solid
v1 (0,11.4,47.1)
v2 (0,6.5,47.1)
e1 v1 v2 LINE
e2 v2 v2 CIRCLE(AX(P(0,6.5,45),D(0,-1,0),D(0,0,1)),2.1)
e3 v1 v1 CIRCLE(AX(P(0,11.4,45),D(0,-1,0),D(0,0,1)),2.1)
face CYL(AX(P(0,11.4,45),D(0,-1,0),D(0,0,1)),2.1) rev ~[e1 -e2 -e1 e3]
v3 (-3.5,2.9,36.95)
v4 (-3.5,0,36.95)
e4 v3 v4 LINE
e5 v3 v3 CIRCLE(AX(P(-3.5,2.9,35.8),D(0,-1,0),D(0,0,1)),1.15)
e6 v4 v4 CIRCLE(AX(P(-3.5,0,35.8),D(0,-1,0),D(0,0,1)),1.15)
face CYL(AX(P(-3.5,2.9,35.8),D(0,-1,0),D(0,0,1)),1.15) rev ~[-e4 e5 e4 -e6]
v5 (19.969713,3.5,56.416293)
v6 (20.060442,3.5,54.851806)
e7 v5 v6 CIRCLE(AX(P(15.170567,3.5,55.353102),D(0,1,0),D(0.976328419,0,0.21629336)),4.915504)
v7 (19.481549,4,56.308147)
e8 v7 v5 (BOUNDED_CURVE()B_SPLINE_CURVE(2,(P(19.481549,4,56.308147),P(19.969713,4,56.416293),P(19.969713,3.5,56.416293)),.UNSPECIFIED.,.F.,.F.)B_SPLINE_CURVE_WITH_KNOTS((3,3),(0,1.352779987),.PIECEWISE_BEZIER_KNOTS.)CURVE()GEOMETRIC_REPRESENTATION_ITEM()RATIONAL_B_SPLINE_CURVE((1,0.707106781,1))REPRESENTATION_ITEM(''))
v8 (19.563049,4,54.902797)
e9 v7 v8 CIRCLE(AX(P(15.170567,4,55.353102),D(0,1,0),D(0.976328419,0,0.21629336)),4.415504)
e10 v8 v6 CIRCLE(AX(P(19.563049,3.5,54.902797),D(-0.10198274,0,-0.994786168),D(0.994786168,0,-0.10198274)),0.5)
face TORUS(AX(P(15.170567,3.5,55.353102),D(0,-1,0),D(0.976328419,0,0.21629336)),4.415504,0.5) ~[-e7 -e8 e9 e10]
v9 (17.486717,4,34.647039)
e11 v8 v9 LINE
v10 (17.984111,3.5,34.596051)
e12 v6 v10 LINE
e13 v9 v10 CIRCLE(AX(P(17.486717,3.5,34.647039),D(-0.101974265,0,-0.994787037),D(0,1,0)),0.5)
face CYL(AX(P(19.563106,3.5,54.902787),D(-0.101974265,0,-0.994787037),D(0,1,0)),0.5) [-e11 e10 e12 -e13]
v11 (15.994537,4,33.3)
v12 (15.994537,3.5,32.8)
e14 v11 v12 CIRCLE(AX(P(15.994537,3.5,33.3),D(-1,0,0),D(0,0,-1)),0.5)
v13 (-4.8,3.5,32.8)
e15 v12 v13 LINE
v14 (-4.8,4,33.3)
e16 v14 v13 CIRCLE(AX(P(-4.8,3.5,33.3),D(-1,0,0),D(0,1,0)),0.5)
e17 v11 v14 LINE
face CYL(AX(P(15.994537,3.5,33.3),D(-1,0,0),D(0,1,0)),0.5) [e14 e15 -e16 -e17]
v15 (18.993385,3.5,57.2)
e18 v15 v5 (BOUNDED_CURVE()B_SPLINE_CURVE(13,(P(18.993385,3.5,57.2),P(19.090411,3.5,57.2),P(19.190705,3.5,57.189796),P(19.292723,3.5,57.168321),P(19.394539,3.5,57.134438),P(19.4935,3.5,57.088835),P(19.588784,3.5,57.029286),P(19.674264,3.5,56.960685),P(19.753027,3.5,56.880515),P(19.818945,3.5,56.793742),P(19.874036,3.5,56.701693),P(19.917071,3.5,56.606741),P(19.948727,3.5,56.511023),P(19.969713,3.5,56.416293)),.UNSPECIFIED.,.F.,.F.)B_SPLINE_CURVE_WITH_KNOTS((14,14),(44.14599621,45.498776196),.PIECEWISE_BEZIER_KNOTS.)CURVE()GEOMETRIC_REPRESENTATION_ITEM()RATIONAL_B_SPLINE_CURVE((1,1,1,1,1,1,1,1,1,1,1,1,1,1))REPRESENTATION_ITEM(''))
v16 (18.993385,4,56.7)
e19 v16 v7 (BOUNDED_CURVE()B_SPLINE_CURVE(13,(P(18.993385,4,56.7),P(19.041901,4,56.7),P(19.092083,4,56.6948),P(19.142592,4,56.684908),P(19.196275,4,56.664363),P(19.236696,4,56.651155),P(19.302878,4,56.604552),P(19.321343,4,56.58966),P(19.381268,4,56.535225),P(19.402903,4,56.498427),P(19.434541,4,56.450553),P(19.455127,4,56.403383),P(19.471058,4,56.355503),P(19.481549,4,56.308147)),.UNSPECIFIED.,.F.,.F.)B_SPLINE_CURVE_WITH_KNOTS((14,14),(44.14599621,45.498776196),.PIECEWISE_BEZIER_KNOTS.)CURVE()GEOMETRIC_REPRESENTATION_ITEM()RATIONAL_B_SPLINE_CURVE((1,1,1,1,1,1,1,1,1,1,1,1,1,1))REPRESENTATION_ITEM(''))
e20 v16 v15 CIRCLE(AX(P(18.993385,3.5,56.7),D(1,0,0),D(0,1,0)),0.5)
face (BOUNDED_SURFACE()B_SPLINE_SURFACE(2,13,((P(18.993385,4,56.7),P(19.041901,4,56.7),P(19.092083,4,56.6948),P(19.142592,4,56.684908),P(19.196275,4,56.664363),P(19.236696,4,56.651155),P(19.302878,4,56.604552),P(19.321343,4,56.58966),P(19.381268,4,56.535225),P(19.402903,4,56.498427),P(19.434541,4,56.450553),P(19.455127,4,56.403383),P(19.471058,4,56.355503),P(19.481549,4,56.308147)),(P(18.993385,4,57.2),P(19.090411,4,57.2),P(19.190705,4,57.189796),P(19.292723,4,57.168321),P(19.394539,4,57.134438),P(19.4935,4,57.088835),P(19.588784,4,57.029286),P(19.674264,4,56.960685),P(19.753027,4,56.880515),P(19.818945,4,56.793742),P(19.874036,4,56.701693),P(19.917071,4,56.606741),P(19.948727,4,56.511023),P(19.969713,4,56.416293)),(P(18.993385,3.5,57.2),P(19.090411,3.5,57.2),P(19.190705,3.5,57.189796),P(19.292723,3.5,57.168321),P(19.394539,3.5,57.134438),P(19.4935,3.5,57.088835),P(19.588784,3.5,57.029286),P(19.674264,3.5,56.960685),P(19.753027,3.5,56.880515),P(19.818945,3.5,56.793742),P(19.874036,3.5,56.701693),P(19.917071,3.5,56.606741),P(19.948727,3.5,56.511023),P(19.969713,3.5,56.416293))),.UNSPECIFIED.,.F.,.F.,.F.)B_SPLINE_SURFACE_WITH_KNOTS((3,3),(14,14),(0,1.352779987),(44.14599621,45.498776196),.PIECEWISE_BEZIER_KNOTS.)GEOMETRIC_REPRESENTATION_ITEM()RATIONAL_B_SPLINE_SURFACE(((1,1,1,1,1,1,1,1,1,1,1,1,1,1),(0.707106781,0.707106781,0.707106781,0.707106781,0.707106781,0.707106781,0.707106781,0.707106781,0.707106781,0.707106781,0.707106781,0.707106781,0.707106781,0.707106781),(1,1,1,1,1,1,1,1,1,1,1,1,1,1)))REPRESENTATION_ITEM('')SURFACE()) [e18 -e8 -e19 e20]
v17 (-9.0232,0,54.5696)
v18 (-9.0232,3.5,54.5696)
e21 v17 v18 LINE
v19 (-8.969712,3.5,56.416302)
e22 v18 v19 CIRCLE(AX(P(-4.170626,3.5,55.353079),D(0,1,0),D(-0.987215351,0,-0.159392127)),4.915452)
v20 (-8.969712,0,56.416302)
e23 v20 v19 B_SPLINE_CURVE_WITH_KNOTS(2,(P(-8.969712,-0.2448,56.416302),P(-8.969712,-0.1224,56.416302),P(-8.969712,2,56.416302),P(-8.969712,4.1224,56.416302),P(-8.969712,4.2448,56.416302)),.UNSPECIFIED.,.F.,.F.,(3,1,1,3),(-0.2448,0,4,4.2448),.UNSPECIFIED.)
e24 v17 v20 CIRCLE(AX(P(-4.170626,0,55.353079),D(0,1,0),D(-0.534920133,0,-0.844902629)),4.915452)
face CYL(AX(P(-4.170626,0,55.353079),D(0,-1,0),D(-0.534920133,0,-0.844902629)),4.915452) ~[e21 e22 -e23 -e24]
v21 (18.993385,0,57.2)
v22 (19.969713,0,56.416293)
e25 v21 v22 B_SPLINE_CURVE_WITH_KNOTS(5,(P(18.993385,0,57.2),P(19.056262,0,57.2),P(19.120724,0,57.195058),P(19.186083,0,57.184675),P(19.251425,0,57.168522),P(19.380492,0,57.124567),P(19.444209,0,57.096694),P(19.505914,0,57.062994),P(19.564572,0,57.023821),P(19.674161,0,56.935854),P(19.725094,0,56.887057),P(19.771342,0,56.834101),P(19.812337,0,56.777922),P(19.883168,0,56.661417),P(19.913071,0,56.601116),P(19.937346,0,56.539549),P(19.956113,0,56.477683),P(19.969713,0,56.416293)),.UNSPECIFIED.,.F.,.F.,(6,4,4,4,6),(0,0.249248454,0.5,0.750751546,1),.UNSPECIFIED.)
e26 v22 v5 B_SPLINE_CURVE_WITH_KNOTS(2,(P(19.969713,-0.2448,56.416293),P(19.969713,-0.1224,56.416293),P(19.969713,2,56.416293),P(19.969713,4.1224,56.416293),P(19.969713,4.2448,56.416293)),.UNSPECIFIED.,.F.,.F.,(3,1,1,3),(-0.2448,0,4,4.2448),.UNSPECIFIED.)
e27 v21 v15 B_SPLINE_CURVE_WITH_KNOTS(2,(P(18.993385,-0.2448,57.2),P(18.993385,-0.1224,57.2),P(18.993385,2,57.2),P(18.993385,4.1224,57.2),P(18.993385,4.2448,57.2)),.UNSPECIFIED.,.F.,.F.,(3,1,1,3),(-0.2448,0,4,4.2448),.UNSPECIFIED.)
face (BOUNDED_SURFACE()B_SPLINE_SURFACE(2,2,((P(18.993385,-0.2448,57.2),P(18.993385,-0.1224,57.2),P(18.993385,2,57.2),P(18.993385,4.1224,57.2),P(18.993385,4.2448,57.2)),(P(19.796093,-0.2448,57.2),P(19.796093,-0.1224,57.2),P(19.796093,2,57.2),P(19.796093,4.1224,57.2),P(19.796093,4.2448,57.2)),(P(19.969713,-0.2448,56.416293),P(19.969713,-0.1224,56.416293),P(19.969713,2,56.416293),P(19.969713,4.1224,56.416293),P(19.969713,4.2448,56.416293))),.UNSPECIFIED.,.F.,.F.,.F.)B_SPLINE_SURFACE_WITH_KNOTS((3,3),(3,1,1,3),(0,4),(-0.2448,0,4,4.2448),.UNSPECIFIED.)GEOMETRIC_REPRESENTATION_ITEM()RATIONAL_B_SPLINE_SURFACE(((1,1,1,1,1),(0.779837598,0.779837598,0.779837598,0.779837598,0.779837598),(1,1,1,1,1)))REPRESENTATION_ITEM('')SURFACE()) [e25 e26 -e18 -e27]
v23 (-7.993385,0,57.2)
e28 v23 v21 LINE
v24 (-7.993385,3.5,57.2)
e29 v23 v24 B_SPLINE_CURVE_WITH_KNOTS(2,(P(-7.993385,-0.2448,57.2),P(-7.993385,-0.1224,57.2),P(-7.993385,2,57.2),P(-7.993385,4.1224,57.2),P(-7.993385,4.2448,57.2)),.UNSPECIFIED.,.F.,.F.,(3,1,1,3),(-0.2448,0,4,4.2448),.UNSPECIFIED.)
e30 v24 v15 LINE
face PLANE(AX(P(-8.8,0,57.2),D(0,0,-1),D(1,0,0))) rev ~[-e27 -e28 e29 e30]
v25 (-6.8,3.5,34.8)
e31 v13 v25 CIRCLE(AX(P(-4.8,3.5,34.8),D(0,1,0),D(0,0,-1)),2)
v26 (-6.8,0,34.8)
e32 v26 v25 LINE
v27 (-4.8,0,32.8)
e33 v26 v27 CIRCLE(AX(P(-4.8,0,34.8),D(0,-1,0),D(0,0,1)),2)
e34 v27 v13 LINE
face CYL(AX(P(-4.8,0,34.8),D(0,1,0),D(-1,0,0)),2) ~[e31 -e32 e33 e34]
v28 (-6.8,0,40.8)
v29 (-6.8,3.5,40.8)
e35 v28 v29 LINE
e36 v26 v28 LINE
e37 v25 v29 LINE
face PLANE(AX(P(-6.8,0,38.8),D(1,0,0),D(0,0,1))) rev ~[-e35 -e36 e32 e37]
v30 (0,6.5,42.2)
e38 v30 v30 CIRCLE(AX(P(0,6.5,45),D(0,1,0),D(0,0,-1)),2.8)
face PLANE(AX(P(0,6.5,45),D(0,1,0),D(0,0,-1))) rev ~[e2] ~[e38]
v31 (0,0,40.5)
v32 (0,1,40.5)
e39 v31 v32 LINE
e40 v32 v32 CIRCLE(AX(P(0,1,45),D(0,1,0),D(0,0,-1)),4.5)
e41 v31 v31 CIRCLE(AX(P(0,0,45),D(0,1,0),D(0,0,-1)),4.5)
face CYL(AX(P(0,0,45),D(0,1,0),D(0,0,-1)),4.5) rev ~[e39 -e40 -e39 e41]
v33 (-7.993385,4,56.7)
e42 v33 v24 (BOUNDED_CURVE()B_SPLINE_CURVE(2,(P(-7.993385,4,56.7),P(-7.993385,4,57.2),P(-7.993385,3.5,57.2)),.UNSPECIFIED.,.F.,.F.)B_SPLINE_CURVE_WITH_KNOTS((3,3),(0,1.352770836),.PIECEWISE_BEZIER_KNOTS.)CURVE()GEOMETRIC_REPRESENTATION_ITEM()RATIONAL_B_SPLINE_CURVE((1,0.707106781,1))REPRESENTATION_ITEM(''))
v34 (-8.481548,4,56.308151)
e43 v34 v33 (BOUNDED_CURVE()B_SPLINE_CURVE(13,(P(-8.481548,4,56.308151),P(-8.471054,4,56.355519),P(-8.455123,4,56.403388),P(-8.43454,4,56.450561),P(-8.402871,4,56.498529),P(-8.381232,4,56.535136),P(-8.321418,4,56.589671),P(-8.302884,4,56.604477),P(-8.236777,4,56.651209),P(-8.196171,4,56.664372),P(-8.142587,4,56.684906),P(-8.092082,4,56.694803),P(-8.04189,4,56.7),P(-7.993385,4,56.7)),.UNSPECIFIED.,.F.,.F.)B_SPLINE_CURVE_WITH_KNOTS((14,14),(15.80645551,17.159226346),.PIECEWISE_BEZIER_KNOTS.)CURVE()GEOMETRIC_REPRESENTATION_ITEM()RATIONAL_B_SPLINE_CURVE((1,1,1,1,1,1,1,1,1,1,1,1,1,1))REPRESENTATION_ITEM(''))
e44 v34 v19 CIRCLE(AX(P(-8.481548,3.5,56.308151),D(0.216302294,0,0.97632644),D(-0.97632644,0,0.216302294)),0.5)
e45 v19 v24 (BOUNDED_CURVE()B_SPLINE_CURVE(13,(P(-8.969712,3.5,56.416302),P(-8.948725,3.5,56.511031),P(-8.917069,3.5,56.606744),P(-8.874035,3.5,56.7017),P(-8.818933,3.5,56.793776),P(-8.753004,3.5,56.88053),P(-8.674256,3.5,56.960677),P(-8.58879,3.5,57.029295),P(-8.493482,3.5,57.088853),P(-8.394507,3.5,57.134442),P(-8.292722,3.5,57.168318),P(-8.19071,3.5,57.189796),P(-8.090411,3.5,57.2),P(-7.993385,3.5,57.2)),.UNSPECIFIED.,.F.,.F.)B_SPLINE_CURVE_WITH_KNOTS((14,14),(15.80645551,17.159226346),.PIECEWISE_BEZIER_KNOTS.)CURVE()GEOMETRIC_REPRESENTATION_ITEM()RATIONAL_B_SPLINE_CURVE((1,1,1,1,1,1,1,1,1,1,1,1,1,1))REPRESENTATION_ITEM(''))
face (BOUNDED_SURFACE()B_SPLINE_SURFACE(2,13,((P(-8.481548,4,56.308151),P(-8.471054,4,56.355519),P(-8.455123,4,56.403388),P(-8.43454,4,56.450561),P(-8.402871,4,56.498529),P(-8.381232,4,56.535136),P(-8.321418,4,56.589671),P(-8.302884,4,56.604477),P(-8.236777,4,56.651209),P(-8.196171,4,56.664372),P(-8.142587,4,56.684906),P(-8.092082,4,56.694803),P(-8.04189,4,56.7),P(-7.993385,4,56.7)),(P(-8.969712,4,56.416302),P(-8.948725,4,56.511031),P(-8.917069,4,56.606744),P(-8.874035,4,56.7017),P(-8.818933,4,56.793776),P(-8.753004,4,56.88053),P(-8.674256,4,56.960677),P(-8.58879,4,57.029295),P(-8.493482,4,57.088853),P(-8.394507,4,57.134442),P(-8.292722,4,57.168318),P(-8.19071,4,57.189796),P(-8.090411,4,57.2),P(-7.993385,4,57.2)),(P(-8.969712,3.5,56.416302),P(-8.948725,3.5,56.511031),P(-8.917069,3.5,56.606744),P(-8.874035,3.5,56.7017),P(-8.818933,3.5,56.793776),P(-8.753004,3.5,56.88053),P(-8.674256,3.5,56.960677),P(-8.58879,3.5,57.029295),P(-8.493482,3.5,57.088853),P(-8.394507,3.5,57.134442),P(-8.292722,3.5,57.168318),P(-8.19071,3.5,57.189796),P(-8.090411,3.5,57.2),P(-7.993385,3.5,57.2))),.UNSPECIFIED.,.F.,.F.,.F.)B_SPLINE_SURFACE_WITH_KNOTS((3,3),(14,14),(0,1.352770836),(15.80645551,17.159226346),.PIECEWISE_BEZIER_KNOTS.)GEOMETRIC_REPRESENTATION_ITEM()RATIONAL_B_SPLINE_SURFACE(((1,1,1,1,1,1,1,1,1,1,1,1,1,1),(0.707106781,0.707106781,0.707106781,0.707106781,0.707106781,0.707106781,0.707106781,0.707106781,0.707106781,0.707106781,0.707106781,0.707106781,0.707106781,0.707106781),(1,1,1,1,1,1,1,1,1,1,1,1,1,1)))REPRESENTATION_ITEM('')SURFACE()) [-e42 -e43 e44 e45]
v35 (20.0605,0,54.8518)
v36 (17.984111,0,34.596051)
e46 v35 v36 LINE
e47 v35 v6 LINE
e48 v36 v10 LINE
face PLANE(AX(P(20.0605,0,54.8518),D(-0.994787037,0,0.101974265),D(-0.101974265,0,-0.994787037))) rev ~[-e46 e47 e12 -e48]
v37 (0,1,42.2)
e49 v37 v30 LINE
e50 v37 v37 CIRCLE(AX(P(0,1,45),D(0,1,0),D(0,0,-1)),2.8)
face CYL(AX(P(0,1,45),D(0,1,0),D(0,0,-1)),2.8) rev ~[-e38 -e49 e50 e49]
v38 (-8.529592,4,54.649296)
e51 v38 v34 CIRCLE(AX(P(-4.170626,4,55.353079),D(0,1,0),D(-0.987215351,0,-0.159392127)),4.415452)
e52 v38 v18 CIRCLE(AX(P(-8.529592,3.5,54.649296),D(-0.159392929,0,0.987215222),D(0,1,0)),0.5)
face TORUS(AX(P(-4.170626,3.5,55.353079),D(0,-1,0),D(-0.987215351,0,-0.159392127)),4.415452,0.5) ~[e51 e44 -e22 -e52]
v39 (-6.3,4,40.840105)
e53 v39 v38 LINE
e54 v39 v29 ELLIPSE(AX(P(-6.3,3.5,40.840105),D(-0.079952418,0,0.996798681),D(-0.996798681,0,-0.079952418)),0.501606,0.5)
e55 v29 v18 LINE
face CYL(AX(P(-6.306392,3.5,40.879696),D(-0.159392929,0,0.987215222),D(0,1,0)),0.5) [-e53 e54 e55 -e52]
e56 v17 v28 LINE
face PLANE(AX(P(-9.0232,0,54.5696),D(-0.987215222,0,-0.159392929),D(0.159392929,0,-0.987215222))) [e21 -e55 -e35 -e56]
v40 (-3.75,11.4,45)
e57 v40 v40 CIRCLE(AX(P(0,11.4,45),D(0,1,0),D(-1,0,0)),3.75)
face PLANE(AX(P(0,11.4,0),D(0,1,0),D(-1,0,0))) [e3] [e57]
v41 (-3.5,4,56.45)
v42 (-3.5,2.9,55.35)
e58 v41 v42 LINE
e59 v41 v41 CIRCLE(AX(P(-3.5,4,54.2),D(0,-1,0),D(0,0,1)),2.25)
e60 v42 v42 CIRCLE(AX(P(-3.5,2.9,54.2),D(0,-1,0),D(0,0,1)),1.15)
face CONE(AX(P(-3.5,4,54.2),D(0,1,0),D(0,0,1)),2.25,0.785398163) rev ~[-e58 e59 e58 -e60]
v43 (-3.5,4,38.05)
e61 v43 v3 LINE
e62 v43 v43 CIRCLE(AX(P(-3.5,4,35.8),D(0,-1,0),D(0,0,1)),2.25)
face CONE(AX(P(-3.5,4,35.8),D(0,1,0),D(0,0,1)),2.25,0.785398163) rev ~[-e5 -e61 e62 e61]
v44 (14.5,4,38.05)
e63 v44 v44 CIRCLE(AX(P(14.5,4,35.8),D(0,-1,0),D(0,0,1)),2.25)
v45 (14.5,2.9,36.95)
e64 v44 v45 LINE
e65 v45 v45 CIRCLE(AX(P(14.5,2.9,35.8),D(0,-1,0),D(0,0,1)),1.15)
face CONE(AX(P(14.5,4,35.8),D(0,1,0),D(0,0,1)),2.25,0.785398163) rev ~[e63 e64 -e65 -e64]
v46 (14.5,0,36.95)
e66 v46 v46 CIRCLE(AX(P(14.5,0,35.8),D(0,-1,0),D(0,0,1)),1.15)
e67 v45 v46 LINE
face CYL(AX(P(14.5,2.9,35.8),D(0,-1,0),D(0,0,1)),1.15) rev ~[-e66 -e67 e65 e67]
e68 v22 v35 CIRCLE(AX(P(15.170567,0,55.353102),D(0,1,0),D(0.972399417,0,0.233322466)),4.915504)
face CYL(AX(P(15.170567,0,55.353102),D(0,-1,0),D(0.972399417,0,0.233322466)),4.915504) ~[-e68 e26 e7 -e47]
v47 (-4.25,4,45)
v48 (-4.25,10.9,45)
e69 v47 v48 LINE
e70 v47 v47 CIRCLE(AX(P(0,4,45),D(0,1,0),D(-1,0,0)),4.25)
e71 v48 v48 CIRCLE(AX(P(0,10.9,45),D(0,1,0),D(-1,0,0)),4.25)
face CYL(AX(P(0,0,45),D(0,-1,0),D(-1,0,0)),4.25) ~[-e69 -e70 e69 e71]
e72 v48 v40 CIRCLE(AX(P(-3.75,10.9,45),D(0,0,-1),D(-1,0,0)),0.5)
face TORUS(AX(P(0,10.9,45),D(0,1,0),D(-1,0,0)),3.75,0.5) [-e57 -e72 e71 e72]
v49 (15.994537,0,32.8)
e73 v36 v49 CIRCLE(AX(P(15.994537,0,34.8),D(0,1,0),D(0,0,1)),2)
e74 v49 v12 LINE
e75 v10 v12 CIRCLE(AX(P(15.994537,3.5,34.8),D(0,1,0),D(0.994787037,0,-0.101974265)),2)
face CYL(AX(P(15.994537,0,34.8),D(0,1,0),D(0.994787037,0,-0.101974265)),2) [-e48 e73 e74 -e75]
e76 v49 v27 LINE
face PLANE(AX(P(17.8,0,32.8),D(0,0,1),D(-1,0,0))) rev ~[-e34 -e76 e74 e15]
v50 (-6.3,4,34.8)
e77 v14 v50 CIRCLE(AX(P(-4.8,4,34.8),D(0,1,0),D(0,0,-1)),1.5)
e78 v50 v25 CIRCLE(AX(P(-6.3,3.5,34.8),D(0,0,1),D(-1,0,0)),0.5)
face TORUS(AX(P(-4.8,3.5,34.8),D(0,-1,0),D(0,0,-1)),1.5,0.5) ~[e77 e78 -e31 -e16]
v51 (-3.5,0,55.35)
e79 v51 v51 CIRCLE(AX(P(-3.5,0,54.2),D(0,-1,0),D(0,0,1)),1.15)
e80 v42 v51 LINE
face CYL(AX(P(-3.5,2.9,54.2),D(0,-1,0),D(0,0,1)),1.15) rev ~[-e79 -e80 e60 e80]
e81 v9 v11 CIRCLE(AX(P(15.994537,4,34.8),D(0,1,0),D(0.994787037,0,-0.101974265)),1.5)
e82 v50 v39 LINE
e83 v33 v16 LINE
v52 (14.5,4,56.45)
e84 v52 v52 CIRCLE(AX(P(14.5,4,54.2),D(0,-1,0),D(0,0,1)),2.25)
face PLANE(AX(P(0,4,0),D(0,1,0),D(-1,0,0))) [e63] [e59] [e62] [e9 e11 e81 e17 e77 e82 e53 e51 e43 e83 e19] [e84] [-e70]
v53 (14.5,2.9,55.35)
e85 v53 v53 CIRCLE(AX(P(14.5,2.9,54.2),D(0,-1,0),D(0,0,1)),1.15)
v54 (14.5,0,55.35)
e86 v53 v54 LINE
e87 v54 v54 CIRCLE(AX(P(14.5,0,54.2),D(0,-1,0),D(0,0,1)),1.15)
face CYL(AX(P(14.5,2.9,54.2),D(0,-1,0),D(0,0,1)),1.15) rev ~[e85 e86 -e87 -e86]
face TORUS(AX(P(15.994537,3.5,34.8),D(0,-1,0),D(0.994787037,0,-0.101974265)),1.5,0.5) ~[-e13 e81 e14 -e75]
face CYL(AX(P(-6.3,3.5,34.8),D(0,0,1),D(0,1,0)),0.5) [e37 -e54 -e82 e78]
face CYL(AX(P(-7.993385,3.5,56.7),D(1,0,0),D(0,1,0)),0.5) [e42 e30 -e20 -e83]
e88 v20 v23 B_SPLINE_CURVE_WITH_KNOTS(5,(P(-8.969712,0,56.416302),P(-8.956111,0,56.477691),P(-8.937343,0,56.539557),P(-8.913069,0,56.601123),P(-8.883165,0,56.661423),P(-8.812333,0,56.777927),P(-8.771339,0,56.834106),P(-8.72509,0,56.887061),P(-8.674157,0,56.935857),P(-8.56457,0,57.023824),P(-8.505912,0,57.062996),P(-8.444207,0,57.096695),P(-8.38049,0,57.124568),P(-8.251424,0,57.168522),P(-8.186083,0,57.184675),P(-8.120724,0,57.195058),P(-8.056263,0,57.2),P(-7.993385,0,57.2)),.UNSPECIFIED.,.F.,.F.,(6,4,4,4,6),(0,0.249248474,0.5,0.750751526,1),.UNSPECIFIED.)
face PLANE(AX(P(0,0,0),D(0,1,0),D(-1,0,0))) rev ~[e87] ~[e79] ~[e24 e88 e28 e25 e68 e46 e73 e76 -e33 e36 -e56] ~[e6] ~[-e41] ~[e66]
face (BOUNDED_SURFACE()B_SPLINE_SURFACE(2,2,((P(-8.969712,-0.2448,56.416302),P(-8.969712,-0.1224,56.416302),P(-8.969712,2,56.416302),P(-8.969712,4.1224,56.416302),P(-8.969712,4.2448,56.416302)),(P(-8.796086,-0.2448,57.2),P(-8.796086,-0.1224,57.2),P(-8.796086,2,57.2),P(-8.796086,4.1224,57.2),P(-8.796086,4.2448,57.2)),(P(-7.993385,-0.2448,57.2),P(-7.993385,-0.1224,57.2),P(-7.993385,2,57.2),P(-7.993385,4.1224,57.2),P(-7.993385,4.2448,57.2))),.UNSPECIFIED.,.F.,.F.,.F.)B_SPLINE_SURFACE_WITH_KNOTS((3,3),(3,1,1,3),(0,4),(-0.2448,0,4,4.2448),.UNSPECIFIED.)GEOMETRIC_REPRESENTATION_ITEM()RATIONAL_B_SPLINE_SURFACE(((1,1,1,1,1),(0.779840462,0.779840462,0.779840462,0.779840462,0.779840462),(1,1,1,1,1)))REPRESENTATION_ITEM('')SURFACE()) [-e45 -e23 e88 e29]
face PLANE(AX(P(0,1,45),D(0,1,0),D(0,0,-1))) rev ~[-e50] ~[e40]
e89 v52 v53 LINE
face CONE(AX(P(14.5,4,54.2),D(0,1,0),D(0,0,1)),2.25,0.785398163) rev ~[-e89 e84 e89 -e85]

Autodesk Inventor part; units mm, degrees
ref_plane "YZ Plane" through (0, 0, 0) normal (1, 0, 0) x (0, 1, 0)
ref_plane "XZ Plane" through (0, 0, 0) normal (0, 1, 0) x (-1, 0, 0)
ref_plane "XY Plane" through (0, 0, 0) normal (0, 0, 1) x (1, 0, 0)
sketch "Sketch1" plane through (0, 0, 0) normal (0, 1, 0) x (-1, 0, 0)
  line L0 (0, 114.579) -> (0, -115.31) construction
  line L1 (119.896, 0) -> (-136.2997, 0) construction
  line L2 (65, 45) -> (31.9074, 45) construction
  line L3 (-65, 45) -> (-65, 11.9074) construction
  line L4 (-65, -45) -> (-19.7, -45) construction
  line L5 (65, -45) -> (65, -11.9074) construction
  line L6 (64.9671, -36.1989) -> (82.3619, -53.5938) construction
  line L7 (82.3619, -53.5938) -> (73.5938, -62.3619) construction
  line L8 (73.5938, -62.3619) -> (56.1989, -44.9671) construction
  line L9 (56.1989, -44.9671) -> (64.9671, -36.1989) construction
  line L10 (64.9671, 36.1989) -> (82.3619, 53.5938) construction
  line L11 (82.3619, 53.5938) -> (73.5938, 62.3619) construction
  line L12 (73.5938, 62.3619) -> (56.1989, 44.9671) construction
  line L13 (56.1989, 44.9671) -> (64.9671, 36.1989) construction
  line L14 (-56.1989, 44.9671) -> (-73.5938, 62.3619) construction
  line L15 (-73.5938, 62.3619) -> (-82.3619, 53.5938) construction
  line L16 (-82.3619, 53.5938) -> (-64.9671, 36.1989) construction
  line L17 (-64.9671, 36.1989) -> (-56.1989, 44.9671) construction
  line L18 (-56.1989, -44.9671) -> (-73.5938, -62.3619) construction
  line L19 (-73.5938, -62.3619) -> (-82.3619, -53.5938) construction
  line L20 (-82.3619, -53.5938) -> (-64.9671, -36.1989) construction
  line L21 (-64.9671, -36.1989) -> (-56.1989, -44.9671) construction
  line L22 (55, 30) -> (-15, 30) construction
  line L23 (-15, 30) -> (-15, -30) construction
  line L24 (-15, -30) -> (55, -30) construction
  line L25 (55, -30) -> (55, 30) construction
  line L26 (73.6645, 44.8963) -> (64.8963, 53.6645) construction
  line L27 (68.7854, 57.5536) -> (77.5536, 48.7854) construction
  circle A0 centre (73.1695, 53.1695) radius 4.25 construction
  line L28 (73.6645, -44.8963) -> (64.8963, -53.6645) construction
  line L29 (77.5536, -48.7854) -> (68.7854, -57.5536) construction
  circle A1 centre (73.1695, -53.1695) radius 4.25 construction
  line L30 (-64.8963, 53.6645) -> (-73.6645, 44.8963) construction
  line L31 (-68.7854, 57.5536) -> (-77.5536, 48.7854) construction
  circle A2 centre (-73.1695, 53.1695) radius 4.25 construction
  line L32 (-73.6645, -44.8963) -> (-64.8963, -53.6645) construction
  line L33 (-77.5536, -48.7854) -> (-68.7854, -57.5536) construction
  circle A3 centre (-73.1695, -53.1695) radius 4.25 construction
  line L34 (6.8, 51.2) -> (-17.8, 51.2)
  line L35 (-17.8, 51.2) -> (-17.8, 38.8)
  line L36 (-17.8, 38.8) -> (6.8, 38.8)
  line L37 (6.8, 38.8) -> (6.8, 51.2)
  line L38 (6.8, -38.8) -> (-17.8, -38.8) construction
  line L39 (-17.8, -38.8) -> (-17.8, -51.2) construction
  line L40 (-17.8, -51.2) -> (6.8, -51.2) construction
  line L41 (6.8, -51.2) -> (6.8, -38.8) construction
  line L42 (6.8, 45) -> (-17.8, 45) construction
  line L43 (-5.5, 51.2) -> (-5.5, 38.8) construction
  line L44 (0, 51.2) -> (0, 38.8) construction
  line L45 (6.8, -45) -> (-17.8, -45) construction
  line L46 (-5.5, -38.8) -> (-5.5, -51.2) construction
  line L47 (0, -38.8) -> (0, -51.2) construction
  circle A4 centre (0, 45) radius 4.25
  circle A5 centre (0, -45) radius 4.25 construction
  line L48 (20, 30) -> (20, -30) construction
  line L49 (8.8, 57.2) -> (-19.8, 57.2)
  line L50 (8.8, -57.2) -> (-19.8, -57.2) construction
  line L51 (8.8, 57.2) -> (8.8, 45) construction
  line L52 (-19.8, 57.2) -> (-19.8, 45) construction
  line L53 (8.8, -57.2) -> (8.8, -45) construction
  line L54 (-19.8, -57.2) -> (-19.8, -45) construction
  line L55 (67.2298, 63.069) -> (61.3608, 57.2) construction
  line L56 (83.069, 47.2298) -> (77.2, 41.3608) construction
  line L57 (64.8963, 53.6645) -> (61.3608, 57.2) construction
  line L58 (73.6645, 44.8963) -> (77.2, 41.3608) construction
  arc A6 (83.069, 47.2298) -> (67.2298, 63.069) centre (75.1494, 55.1494) ccw construction
  line L59 (-61.3608, 57.2) -> (-67.2298, 63.069) construction
  line L60 (-83.069, 47.2298) -> (-77.2, 41.3608) construction
  line L61 (-61.3608, 57.2) -> (-64.8963, 53.6645) construction
  line L62 (-77.2, 41.3608) -> (-73.6645, 44.8963) construction
  arc A7 (-67.2298, 63.069) -> (-83.069, 47.2298) centre (-75.1494, 55.1494) ccw construction
  line L63 (73.6645, -44.8963) -> (77.2, -41.3608) construction
  line L64 (77.2, -41.3608) -> (83.069, -47.2298) construction
  line L65 (64.8963, -53.6645) -> (61.3608, -57.2) construction
  line L66 (61.3608, -57.2) -> (67.2298, -63.069) construction
  arc A8 (67.2298, -63.069) -> (83.069, -47.2298) centre (75.1494, -55.1494) ccw construction
  line L67 (-73.6645, -44.8963) -> (-77.2, -41.3608) construction
  line L68 (-64.8963, -53.6645) -> (-61.3608, -57.2) construction
  line L69 (-61.3608, -57.2) -> (-67.2298, -63.069) construction
  line L70 (-77.2, -41.3608) -> (-83.069, -47.2298) construction
  arc A9 (-83.069, -47.2298) -> (-67.2298, -63.069) centre (-75.1494, -55.1494) ccw construction
  arc A10 (23.5363, -45) -> (8.8, -57.2) centre (23.5363, -60) ccw construction
  arc A11 (61.3608, -57.2) -> (31.9074, -45) centre (31.9074, -86.6534) ccw construction
  arc A12 (65, -11.9074) -> (77.2, -41.3608) centre (106.6534, -11.9074) ccw construction
  arc A13 (77.2, 41.3608) -> (65, 11.9074) centre (106.6534, 11.9074) ccw construction
  arc A14 (31.9074, 45) -> (61.3608, 57.2) centre (31.9074, 86.6534) ccw construction
  arc A15 (8.8, 57.2) -> (23.5363, 45) centre (23.5363, 60) ccw
  arc A16 (-65, 11.9074) -> (-77.2, 41.3608) centre (-106.6534, 11.9074) ccw construction
  arc A17 (-77.2, -41.3608) -> (-65, -11.9074) centre (-106.6534, -11.9074) ccw construction
  line L71 (73.1695, -53.1695) -> (-73.1695, -53.1695) construction
  line L72 (-73.1695, 53.1695) -> (73.1695, 53.1695) construction
  line L73 (-61.3608, 57.2) -> (-61.3608, 45) construction
  line L74 (-61.3608, -57.2) -> (-61.3608, -45) construction
  arc A18 (-19.8, -57.2) -> (-34.5363, -45) centre (-34.5363, -60) ccw construction
  arc A19 (-31.9074, -45) -> (-61.3608, -57.2) centre (-31.9074, -86.6534) ccw construction
  arc A20 (-34.5363, 45) -> (-33.5506, 45.0324) centre (-34.5363, 60) ccw
  arc A21 (-61.3608, 57.2) -> (-33.5506, 45.0324) centre (-31.9074, 86.6534) ccw construction
  line L75 (73.5938, 62.3619) -> (76.4222, 65.1903) construction
  line L76 (76.4222, 65.1903) -> (85.1903, 56.4222) construction
  line L77 (85.1903, 56.4222) -> (82.3619, 53.5938) construction
  line L78 (79.3213, 59.3213) -> (59.2395, 39.2395) construction
  line L79 (59.2395, -39.2395) -> (79.3213, -59.3213) construction
  line L80 (-79.3213, 59.3213) -> (-59.2395, 39.2395) construction
  line L81 (-79.3213, -59.3213) -> (-59.2395, -39.2395) construction
  line L82 (75.1494, 55.1494) -> (77.9778, 57.9778) construction
  line L83 (75.1494, -55.1494) -> (77.9778, -57.9778) construction
  line L84 (-75.1494, -55.1494) -> (-77.9778, -57.9778) construction
  line L85 (-75.1494, 55.1494) -> (-77.9778, 57.9778) construction
  line L86 (-19.7, 45) -> (-65, 45) construction
  line L87 (8.7, 45) -> (-19.7, 45) construction
  line L88 (8.7, -45) -> (23.5363, -45) construction
  line L89 (-19.7, -45) -> (8.7, -45) construction
  line L90 (82.3619, 53.5938) -> (85.3751, 50.5805) construction
  line L91 (73.5938, 62.3619) -> (70.5805, 65.3751) construction
  line L92 (80.1698, 55.7858) -> (75.3615, 50.9775) construction
  line L93 (70.9775, -55.3615) -> (75.7858, -60.1698) construction
  line L94 (0, -48.1) -> (6.8, -48.1) construction
  line L95 (-75.3615, -50.9775) -> (-80.1698, -55.7858) construction
  line L96 (-75.7858, 60.1698) -> (-70.9775, 55.3615) construction
  line L97 (0, 48.1) -> (6.8, 48.1) construction
  line L98 (82.3619, -53.5938) -> (85.3751, -50.5805) construction
  line L99 (73.5938, -62.3619) -> (70.5805, -65.3751) construction
  line L100 (-73.5938, -62.3619) -> (-70.5805, -65.3751) construction
  line L101 (-82.3619, -53.5938) -> (-85.3751, -50.5805) construction
  line L102 (-73.5938, 62.3619) -> (-70.5805, 65.3751) construction
  line L103 (-82.3619, 53.5938) -> (-85.3751, 50.5805) construction
  line L104 (31.9074, 45) -> (23.5363, 45) construction
  line L105 (23.5363, 45) -> (8.7, 45) construction
  arc A22 (-33.5506, 45.0324) -> (-31.9074, 45) centre (-31.9074, 86.6534) ccw
  arc A23 (-33.5506, 45.0324) -> (-19.8, 57.2) centre (-34.5363, 60) ccw
  line L106 (-21.9995, 42) -> (-51.9995, 42) construction
  line L107 (-51.9995, 42) -> (-51.9995, -42) construction
  line L108 (-51.9995, -42) -> (-21.9995, -42) construction
  line L109 (-21.9995, -42) -> (-21.9995, 42) construction
  line L110 (52, 27) -> (55, 27) construction
  line L111 (52, -27) -> (55, -27) construction
  line L112 (52, 27) -> (52, 30) construction
  line L113 (-12, 27) -> (-12, 30) construction
  line L114 (-12, 27) -> (-15, 27) construction
  line L115 (-15, -27) -> (-12, -27) construction
  line L116 (-12, -27) -> (-12, -30) construction
  line L117 (52, -27) -> (52, -30) construction
  line L118 (-19.4995, 10) -> (-20.9995, 10) construction
  line L119 (-20.9995, 10) -> (-20.9995, -10) construction
  line L120 (-20.9995, -10) -> (-19.4995, -10) construction
  line L121 (-19.4995, -10) -> (-19.4995, 10) construction
  line L122 (-19.4995, 0) -> (-20.9995, 0) construction
  line L123 (-36.9995, 42) -> (-36.9995, -42) construction
  line L124 (-52.9995, 10) -> (-54.4995, 10) construction
  line L125 (-54.4995, 10) -> (-54.4995, -10) construction
  line L126 (-54.4995, -10) -> (-52.9995, -10) construction
  line L127 (-52.9995, -10) -> (-52.9995, 10) construction
  line L128 (-52.9995, 0) -> (-54.4995, 0) construction
  line L129 (31.9074, -45) -> (65, -45) construction
  line L130 (23.5363, -45) -> (31.9074, -45) construction
  line L131 (65, -11.9074) -> (65, 11.9074) construction
  line L132 (65, 11.9074) -> (65, 45) construction
  arc A24 (68.1707, 27.8475) -> (64.9671, 36.1989) centre (57.1958, 28.4277) ccw construction
  arc A25 (56.1989, 44.9671) -> (47.8475, 48.1707) centre (48.4277, 37.1958) ccw construction
  arc A26 (64.9671, -36.1989) -> (68.1707, -27.8475) centre (57.1958, -28.4277) ccw construction
  arc A27 (47.8475, -48.1707) -> (56.1989, -44.9671) centre (48.4277, -37.1958) ccw construction
  arc A28 (-56.1989, -44.9671) -> (-47.8475, -48.1707) centre (-48.4277, -37.1958) ccw construction
  arc A29 (-68.1707, -27.8475) -> (-64.9671, -36.1989) centre (-57.1958, -28.4277) ccw construction
  arc A30 (-48.6036, 48.4926) -> (-56.1989, 44.9671) centre (-47.5843, 36.3524) ccw construction
  arc A31 (-64.9671, 36.1989) -> (-68.1707, 27.8475) centre (-57.1958, 28.4277) ccw construction
  line L133 (-65, 11.9074) -> (-65, -11.9074) construction
  line L134 (-65, -11.9074) -> (-65, -45) construction
  line L135 (-56.1989, 44.9671) -> (-56.1989, -44.9671) construction
  arc A32 (-19.9504, 56.5) -> (-17.8, 51.2) centre (-15.1706, 55.3531) ccw
  arc A33 (6.8, 51.2) -> (8.9504, 56.5) centre (4.1706, 55.3531) ccw
  arc A34 (8.9504, -56.5) -> (6.8, -51.2) centre (4.1706, -55.3531) ccw construction
  arc A35 (-17.8, -51.2) -> (-19.9504, -56.5) centre (-15.1706, -55.3531) ccw construction
  line L136 (-17.8, 38.8) -> (-17.8, 32.8)
  line L137 (-17.8, 32.8) -> (6.8, 32.8)
  line L138 (6.8, 32.8) -> (6.8, 38.8)
  line L139 (-17.8, -38.8) -> (-17.8, -32.8) construction
  line L140 (-17.8, -32.8) -> (6.8, -32.8) construction
  line L141 (6.8, -32.8) -> (6.8, -38.8) construction
  line L142 (3.5, 54.2) -> (3.5, 35.8) construction
  line L143 (3.5, 35.8) -> (-14.5, 35.8) construction
  line L144 (-14.5, 35.8) -> (-14.5, 54.2) construction
  line L145 (-14.5, 54.2) -> (3.5, 54.2) construction
  line L146 (9.0232, 54.5696) -> (6.8, 40.8)
  line L147 (-20.0605, 54.8518) -> (-17.8, 32.8)
  point P0 (0, 0)
  point P1 (64.9853, 0)
  point P2 (55, 0)
  point P3 (60.583, -40.583)
  point P4 (-59.2395, 39.2395)
  point P5 (-60.583, 40.583)
  point P6 (-60.583, -40.583)
  point P7 (0, 45)
  point P8 (-33.9298, 45.0048)
  point P9 (-33.5506, -45.0324)
  point P10 (-56.1658, -45)
  point P11 (-56.2319, -45)
  point P12 (-56.2319, 45)
  point P13 (-56.1659, 45)
  point P14 (-20.0537, 54.7901)
  point P15 (6.8, 33.8)
  dimension "d0" = 135
  dimension "d4" = 24.6
  dimension "d5" = 12.4
  dimension "d6" = 70
  dimension "d7" = 60
  dimension "d9" = 8.5
  dimension "d10" = 135
  dimension "d12" = 6
  dimension "d13" = 2
  dimension "d14" = 2
  dimension "d16" = 20
  dimension "d23" = 5
  dimension "d29" = 130
  dimension "d32" = 15
  dimension "d33" = 4
  dimension "d34" = 28.4
  dimension "d38" = 4
  dimension "d40" = 6.8
  dimension "d49" = 30
  dimension "d50" = 84
  dimension "d51" = 3
  dimension "d52" = 3
  dimension "d53" = 1.5
  dimension "d54" = 20
  dimension "d59" = 1
  dimension "d60" = 90
  dimension "d61" = 135
  dimension "d70" = 135
  dimension "d82" = 0.7
  dimension "d83" = 0.7
  dimension "d84" = 0.7
  dimension "d85" = 0.7
  dimension "d86" = 6
  dimension "d102" = 18
  dimension "d126" = 2
extrude "Extrusion12" add sketch "Sketch1" along normal blind 4 contours A33 L146 L37 | L34 A32 A23 L49 A15 A33 | L35 L136 L147 A32 | L36 L138 L137 L136
extrude "Extrusion13" add sketch "Sketch1" along normal blind 4 contours L37 L36 L35 L34
extrude "Extrusion14" add sketch "Sketch1" along normal blind 11.4 contours A4
sketch "Sketch2" plane through (0, 11.4, 45) normal (0, 1, 0) x (1, 0, 0)
  point P0 (0, 45)
  point P1 (0, 0)
hole "Hole3" at (0, 11.4, 45) direction (0, -1, 0) diameter 4.2 end through all
fillet "Fillet10" radius 2 2 edges at (-6.8, 2, 32.8) (17.8, 2, 32.8)
fillet "Fillet10" radius 1 2 edges at (19.8, 2, 57.2) (-8.8, 2, 57.2)
fillet "Fillet11" radius 0.5 11 edges at (19.6194, 4, 56.9798) (20.0778, 4, 55.6377) (-8.6194, 4, 56.9798) (-9.084, 4, 55.4955) (5.5, 4, 57.2) (5.5973, 4, 32.8) (4.25, 11.4, 45) (19.0223, 4, 44.7239) (17.3347, 4, 33.3154) (-6.2142, 4, 33.3858) (-7.9116, 4, 47.6848)
sketch "Sketch4" plane through (0, 4, 0) normal (0, 1, 0) x (1, 0, 0)
  point P0 (0, 0)
  point P1 (-3.5, -54.2)
  point P2 (14.5, -54.2)
  point P3 (14.5, -35.8)
  point P4 (-3.5, -35.8)
hole "Hole4" at (-3.5, 4, 54.2) at (-3.5, 4, 35.8) at (14.5, 4, 35.8) at (14.5, 4, 54.2) direction (0, -1, 0) diameter 2.3 depth 6.5 countersink diameter 4.5 countersink angle 90
hole "Hole5" at (0, 0, 45) direction (0, 1, 0) diameter 5.6 depth 6.5 counterbore diameter 9 counterbore depth 1
properties part number "LegPin_Side_fillet_v1"
